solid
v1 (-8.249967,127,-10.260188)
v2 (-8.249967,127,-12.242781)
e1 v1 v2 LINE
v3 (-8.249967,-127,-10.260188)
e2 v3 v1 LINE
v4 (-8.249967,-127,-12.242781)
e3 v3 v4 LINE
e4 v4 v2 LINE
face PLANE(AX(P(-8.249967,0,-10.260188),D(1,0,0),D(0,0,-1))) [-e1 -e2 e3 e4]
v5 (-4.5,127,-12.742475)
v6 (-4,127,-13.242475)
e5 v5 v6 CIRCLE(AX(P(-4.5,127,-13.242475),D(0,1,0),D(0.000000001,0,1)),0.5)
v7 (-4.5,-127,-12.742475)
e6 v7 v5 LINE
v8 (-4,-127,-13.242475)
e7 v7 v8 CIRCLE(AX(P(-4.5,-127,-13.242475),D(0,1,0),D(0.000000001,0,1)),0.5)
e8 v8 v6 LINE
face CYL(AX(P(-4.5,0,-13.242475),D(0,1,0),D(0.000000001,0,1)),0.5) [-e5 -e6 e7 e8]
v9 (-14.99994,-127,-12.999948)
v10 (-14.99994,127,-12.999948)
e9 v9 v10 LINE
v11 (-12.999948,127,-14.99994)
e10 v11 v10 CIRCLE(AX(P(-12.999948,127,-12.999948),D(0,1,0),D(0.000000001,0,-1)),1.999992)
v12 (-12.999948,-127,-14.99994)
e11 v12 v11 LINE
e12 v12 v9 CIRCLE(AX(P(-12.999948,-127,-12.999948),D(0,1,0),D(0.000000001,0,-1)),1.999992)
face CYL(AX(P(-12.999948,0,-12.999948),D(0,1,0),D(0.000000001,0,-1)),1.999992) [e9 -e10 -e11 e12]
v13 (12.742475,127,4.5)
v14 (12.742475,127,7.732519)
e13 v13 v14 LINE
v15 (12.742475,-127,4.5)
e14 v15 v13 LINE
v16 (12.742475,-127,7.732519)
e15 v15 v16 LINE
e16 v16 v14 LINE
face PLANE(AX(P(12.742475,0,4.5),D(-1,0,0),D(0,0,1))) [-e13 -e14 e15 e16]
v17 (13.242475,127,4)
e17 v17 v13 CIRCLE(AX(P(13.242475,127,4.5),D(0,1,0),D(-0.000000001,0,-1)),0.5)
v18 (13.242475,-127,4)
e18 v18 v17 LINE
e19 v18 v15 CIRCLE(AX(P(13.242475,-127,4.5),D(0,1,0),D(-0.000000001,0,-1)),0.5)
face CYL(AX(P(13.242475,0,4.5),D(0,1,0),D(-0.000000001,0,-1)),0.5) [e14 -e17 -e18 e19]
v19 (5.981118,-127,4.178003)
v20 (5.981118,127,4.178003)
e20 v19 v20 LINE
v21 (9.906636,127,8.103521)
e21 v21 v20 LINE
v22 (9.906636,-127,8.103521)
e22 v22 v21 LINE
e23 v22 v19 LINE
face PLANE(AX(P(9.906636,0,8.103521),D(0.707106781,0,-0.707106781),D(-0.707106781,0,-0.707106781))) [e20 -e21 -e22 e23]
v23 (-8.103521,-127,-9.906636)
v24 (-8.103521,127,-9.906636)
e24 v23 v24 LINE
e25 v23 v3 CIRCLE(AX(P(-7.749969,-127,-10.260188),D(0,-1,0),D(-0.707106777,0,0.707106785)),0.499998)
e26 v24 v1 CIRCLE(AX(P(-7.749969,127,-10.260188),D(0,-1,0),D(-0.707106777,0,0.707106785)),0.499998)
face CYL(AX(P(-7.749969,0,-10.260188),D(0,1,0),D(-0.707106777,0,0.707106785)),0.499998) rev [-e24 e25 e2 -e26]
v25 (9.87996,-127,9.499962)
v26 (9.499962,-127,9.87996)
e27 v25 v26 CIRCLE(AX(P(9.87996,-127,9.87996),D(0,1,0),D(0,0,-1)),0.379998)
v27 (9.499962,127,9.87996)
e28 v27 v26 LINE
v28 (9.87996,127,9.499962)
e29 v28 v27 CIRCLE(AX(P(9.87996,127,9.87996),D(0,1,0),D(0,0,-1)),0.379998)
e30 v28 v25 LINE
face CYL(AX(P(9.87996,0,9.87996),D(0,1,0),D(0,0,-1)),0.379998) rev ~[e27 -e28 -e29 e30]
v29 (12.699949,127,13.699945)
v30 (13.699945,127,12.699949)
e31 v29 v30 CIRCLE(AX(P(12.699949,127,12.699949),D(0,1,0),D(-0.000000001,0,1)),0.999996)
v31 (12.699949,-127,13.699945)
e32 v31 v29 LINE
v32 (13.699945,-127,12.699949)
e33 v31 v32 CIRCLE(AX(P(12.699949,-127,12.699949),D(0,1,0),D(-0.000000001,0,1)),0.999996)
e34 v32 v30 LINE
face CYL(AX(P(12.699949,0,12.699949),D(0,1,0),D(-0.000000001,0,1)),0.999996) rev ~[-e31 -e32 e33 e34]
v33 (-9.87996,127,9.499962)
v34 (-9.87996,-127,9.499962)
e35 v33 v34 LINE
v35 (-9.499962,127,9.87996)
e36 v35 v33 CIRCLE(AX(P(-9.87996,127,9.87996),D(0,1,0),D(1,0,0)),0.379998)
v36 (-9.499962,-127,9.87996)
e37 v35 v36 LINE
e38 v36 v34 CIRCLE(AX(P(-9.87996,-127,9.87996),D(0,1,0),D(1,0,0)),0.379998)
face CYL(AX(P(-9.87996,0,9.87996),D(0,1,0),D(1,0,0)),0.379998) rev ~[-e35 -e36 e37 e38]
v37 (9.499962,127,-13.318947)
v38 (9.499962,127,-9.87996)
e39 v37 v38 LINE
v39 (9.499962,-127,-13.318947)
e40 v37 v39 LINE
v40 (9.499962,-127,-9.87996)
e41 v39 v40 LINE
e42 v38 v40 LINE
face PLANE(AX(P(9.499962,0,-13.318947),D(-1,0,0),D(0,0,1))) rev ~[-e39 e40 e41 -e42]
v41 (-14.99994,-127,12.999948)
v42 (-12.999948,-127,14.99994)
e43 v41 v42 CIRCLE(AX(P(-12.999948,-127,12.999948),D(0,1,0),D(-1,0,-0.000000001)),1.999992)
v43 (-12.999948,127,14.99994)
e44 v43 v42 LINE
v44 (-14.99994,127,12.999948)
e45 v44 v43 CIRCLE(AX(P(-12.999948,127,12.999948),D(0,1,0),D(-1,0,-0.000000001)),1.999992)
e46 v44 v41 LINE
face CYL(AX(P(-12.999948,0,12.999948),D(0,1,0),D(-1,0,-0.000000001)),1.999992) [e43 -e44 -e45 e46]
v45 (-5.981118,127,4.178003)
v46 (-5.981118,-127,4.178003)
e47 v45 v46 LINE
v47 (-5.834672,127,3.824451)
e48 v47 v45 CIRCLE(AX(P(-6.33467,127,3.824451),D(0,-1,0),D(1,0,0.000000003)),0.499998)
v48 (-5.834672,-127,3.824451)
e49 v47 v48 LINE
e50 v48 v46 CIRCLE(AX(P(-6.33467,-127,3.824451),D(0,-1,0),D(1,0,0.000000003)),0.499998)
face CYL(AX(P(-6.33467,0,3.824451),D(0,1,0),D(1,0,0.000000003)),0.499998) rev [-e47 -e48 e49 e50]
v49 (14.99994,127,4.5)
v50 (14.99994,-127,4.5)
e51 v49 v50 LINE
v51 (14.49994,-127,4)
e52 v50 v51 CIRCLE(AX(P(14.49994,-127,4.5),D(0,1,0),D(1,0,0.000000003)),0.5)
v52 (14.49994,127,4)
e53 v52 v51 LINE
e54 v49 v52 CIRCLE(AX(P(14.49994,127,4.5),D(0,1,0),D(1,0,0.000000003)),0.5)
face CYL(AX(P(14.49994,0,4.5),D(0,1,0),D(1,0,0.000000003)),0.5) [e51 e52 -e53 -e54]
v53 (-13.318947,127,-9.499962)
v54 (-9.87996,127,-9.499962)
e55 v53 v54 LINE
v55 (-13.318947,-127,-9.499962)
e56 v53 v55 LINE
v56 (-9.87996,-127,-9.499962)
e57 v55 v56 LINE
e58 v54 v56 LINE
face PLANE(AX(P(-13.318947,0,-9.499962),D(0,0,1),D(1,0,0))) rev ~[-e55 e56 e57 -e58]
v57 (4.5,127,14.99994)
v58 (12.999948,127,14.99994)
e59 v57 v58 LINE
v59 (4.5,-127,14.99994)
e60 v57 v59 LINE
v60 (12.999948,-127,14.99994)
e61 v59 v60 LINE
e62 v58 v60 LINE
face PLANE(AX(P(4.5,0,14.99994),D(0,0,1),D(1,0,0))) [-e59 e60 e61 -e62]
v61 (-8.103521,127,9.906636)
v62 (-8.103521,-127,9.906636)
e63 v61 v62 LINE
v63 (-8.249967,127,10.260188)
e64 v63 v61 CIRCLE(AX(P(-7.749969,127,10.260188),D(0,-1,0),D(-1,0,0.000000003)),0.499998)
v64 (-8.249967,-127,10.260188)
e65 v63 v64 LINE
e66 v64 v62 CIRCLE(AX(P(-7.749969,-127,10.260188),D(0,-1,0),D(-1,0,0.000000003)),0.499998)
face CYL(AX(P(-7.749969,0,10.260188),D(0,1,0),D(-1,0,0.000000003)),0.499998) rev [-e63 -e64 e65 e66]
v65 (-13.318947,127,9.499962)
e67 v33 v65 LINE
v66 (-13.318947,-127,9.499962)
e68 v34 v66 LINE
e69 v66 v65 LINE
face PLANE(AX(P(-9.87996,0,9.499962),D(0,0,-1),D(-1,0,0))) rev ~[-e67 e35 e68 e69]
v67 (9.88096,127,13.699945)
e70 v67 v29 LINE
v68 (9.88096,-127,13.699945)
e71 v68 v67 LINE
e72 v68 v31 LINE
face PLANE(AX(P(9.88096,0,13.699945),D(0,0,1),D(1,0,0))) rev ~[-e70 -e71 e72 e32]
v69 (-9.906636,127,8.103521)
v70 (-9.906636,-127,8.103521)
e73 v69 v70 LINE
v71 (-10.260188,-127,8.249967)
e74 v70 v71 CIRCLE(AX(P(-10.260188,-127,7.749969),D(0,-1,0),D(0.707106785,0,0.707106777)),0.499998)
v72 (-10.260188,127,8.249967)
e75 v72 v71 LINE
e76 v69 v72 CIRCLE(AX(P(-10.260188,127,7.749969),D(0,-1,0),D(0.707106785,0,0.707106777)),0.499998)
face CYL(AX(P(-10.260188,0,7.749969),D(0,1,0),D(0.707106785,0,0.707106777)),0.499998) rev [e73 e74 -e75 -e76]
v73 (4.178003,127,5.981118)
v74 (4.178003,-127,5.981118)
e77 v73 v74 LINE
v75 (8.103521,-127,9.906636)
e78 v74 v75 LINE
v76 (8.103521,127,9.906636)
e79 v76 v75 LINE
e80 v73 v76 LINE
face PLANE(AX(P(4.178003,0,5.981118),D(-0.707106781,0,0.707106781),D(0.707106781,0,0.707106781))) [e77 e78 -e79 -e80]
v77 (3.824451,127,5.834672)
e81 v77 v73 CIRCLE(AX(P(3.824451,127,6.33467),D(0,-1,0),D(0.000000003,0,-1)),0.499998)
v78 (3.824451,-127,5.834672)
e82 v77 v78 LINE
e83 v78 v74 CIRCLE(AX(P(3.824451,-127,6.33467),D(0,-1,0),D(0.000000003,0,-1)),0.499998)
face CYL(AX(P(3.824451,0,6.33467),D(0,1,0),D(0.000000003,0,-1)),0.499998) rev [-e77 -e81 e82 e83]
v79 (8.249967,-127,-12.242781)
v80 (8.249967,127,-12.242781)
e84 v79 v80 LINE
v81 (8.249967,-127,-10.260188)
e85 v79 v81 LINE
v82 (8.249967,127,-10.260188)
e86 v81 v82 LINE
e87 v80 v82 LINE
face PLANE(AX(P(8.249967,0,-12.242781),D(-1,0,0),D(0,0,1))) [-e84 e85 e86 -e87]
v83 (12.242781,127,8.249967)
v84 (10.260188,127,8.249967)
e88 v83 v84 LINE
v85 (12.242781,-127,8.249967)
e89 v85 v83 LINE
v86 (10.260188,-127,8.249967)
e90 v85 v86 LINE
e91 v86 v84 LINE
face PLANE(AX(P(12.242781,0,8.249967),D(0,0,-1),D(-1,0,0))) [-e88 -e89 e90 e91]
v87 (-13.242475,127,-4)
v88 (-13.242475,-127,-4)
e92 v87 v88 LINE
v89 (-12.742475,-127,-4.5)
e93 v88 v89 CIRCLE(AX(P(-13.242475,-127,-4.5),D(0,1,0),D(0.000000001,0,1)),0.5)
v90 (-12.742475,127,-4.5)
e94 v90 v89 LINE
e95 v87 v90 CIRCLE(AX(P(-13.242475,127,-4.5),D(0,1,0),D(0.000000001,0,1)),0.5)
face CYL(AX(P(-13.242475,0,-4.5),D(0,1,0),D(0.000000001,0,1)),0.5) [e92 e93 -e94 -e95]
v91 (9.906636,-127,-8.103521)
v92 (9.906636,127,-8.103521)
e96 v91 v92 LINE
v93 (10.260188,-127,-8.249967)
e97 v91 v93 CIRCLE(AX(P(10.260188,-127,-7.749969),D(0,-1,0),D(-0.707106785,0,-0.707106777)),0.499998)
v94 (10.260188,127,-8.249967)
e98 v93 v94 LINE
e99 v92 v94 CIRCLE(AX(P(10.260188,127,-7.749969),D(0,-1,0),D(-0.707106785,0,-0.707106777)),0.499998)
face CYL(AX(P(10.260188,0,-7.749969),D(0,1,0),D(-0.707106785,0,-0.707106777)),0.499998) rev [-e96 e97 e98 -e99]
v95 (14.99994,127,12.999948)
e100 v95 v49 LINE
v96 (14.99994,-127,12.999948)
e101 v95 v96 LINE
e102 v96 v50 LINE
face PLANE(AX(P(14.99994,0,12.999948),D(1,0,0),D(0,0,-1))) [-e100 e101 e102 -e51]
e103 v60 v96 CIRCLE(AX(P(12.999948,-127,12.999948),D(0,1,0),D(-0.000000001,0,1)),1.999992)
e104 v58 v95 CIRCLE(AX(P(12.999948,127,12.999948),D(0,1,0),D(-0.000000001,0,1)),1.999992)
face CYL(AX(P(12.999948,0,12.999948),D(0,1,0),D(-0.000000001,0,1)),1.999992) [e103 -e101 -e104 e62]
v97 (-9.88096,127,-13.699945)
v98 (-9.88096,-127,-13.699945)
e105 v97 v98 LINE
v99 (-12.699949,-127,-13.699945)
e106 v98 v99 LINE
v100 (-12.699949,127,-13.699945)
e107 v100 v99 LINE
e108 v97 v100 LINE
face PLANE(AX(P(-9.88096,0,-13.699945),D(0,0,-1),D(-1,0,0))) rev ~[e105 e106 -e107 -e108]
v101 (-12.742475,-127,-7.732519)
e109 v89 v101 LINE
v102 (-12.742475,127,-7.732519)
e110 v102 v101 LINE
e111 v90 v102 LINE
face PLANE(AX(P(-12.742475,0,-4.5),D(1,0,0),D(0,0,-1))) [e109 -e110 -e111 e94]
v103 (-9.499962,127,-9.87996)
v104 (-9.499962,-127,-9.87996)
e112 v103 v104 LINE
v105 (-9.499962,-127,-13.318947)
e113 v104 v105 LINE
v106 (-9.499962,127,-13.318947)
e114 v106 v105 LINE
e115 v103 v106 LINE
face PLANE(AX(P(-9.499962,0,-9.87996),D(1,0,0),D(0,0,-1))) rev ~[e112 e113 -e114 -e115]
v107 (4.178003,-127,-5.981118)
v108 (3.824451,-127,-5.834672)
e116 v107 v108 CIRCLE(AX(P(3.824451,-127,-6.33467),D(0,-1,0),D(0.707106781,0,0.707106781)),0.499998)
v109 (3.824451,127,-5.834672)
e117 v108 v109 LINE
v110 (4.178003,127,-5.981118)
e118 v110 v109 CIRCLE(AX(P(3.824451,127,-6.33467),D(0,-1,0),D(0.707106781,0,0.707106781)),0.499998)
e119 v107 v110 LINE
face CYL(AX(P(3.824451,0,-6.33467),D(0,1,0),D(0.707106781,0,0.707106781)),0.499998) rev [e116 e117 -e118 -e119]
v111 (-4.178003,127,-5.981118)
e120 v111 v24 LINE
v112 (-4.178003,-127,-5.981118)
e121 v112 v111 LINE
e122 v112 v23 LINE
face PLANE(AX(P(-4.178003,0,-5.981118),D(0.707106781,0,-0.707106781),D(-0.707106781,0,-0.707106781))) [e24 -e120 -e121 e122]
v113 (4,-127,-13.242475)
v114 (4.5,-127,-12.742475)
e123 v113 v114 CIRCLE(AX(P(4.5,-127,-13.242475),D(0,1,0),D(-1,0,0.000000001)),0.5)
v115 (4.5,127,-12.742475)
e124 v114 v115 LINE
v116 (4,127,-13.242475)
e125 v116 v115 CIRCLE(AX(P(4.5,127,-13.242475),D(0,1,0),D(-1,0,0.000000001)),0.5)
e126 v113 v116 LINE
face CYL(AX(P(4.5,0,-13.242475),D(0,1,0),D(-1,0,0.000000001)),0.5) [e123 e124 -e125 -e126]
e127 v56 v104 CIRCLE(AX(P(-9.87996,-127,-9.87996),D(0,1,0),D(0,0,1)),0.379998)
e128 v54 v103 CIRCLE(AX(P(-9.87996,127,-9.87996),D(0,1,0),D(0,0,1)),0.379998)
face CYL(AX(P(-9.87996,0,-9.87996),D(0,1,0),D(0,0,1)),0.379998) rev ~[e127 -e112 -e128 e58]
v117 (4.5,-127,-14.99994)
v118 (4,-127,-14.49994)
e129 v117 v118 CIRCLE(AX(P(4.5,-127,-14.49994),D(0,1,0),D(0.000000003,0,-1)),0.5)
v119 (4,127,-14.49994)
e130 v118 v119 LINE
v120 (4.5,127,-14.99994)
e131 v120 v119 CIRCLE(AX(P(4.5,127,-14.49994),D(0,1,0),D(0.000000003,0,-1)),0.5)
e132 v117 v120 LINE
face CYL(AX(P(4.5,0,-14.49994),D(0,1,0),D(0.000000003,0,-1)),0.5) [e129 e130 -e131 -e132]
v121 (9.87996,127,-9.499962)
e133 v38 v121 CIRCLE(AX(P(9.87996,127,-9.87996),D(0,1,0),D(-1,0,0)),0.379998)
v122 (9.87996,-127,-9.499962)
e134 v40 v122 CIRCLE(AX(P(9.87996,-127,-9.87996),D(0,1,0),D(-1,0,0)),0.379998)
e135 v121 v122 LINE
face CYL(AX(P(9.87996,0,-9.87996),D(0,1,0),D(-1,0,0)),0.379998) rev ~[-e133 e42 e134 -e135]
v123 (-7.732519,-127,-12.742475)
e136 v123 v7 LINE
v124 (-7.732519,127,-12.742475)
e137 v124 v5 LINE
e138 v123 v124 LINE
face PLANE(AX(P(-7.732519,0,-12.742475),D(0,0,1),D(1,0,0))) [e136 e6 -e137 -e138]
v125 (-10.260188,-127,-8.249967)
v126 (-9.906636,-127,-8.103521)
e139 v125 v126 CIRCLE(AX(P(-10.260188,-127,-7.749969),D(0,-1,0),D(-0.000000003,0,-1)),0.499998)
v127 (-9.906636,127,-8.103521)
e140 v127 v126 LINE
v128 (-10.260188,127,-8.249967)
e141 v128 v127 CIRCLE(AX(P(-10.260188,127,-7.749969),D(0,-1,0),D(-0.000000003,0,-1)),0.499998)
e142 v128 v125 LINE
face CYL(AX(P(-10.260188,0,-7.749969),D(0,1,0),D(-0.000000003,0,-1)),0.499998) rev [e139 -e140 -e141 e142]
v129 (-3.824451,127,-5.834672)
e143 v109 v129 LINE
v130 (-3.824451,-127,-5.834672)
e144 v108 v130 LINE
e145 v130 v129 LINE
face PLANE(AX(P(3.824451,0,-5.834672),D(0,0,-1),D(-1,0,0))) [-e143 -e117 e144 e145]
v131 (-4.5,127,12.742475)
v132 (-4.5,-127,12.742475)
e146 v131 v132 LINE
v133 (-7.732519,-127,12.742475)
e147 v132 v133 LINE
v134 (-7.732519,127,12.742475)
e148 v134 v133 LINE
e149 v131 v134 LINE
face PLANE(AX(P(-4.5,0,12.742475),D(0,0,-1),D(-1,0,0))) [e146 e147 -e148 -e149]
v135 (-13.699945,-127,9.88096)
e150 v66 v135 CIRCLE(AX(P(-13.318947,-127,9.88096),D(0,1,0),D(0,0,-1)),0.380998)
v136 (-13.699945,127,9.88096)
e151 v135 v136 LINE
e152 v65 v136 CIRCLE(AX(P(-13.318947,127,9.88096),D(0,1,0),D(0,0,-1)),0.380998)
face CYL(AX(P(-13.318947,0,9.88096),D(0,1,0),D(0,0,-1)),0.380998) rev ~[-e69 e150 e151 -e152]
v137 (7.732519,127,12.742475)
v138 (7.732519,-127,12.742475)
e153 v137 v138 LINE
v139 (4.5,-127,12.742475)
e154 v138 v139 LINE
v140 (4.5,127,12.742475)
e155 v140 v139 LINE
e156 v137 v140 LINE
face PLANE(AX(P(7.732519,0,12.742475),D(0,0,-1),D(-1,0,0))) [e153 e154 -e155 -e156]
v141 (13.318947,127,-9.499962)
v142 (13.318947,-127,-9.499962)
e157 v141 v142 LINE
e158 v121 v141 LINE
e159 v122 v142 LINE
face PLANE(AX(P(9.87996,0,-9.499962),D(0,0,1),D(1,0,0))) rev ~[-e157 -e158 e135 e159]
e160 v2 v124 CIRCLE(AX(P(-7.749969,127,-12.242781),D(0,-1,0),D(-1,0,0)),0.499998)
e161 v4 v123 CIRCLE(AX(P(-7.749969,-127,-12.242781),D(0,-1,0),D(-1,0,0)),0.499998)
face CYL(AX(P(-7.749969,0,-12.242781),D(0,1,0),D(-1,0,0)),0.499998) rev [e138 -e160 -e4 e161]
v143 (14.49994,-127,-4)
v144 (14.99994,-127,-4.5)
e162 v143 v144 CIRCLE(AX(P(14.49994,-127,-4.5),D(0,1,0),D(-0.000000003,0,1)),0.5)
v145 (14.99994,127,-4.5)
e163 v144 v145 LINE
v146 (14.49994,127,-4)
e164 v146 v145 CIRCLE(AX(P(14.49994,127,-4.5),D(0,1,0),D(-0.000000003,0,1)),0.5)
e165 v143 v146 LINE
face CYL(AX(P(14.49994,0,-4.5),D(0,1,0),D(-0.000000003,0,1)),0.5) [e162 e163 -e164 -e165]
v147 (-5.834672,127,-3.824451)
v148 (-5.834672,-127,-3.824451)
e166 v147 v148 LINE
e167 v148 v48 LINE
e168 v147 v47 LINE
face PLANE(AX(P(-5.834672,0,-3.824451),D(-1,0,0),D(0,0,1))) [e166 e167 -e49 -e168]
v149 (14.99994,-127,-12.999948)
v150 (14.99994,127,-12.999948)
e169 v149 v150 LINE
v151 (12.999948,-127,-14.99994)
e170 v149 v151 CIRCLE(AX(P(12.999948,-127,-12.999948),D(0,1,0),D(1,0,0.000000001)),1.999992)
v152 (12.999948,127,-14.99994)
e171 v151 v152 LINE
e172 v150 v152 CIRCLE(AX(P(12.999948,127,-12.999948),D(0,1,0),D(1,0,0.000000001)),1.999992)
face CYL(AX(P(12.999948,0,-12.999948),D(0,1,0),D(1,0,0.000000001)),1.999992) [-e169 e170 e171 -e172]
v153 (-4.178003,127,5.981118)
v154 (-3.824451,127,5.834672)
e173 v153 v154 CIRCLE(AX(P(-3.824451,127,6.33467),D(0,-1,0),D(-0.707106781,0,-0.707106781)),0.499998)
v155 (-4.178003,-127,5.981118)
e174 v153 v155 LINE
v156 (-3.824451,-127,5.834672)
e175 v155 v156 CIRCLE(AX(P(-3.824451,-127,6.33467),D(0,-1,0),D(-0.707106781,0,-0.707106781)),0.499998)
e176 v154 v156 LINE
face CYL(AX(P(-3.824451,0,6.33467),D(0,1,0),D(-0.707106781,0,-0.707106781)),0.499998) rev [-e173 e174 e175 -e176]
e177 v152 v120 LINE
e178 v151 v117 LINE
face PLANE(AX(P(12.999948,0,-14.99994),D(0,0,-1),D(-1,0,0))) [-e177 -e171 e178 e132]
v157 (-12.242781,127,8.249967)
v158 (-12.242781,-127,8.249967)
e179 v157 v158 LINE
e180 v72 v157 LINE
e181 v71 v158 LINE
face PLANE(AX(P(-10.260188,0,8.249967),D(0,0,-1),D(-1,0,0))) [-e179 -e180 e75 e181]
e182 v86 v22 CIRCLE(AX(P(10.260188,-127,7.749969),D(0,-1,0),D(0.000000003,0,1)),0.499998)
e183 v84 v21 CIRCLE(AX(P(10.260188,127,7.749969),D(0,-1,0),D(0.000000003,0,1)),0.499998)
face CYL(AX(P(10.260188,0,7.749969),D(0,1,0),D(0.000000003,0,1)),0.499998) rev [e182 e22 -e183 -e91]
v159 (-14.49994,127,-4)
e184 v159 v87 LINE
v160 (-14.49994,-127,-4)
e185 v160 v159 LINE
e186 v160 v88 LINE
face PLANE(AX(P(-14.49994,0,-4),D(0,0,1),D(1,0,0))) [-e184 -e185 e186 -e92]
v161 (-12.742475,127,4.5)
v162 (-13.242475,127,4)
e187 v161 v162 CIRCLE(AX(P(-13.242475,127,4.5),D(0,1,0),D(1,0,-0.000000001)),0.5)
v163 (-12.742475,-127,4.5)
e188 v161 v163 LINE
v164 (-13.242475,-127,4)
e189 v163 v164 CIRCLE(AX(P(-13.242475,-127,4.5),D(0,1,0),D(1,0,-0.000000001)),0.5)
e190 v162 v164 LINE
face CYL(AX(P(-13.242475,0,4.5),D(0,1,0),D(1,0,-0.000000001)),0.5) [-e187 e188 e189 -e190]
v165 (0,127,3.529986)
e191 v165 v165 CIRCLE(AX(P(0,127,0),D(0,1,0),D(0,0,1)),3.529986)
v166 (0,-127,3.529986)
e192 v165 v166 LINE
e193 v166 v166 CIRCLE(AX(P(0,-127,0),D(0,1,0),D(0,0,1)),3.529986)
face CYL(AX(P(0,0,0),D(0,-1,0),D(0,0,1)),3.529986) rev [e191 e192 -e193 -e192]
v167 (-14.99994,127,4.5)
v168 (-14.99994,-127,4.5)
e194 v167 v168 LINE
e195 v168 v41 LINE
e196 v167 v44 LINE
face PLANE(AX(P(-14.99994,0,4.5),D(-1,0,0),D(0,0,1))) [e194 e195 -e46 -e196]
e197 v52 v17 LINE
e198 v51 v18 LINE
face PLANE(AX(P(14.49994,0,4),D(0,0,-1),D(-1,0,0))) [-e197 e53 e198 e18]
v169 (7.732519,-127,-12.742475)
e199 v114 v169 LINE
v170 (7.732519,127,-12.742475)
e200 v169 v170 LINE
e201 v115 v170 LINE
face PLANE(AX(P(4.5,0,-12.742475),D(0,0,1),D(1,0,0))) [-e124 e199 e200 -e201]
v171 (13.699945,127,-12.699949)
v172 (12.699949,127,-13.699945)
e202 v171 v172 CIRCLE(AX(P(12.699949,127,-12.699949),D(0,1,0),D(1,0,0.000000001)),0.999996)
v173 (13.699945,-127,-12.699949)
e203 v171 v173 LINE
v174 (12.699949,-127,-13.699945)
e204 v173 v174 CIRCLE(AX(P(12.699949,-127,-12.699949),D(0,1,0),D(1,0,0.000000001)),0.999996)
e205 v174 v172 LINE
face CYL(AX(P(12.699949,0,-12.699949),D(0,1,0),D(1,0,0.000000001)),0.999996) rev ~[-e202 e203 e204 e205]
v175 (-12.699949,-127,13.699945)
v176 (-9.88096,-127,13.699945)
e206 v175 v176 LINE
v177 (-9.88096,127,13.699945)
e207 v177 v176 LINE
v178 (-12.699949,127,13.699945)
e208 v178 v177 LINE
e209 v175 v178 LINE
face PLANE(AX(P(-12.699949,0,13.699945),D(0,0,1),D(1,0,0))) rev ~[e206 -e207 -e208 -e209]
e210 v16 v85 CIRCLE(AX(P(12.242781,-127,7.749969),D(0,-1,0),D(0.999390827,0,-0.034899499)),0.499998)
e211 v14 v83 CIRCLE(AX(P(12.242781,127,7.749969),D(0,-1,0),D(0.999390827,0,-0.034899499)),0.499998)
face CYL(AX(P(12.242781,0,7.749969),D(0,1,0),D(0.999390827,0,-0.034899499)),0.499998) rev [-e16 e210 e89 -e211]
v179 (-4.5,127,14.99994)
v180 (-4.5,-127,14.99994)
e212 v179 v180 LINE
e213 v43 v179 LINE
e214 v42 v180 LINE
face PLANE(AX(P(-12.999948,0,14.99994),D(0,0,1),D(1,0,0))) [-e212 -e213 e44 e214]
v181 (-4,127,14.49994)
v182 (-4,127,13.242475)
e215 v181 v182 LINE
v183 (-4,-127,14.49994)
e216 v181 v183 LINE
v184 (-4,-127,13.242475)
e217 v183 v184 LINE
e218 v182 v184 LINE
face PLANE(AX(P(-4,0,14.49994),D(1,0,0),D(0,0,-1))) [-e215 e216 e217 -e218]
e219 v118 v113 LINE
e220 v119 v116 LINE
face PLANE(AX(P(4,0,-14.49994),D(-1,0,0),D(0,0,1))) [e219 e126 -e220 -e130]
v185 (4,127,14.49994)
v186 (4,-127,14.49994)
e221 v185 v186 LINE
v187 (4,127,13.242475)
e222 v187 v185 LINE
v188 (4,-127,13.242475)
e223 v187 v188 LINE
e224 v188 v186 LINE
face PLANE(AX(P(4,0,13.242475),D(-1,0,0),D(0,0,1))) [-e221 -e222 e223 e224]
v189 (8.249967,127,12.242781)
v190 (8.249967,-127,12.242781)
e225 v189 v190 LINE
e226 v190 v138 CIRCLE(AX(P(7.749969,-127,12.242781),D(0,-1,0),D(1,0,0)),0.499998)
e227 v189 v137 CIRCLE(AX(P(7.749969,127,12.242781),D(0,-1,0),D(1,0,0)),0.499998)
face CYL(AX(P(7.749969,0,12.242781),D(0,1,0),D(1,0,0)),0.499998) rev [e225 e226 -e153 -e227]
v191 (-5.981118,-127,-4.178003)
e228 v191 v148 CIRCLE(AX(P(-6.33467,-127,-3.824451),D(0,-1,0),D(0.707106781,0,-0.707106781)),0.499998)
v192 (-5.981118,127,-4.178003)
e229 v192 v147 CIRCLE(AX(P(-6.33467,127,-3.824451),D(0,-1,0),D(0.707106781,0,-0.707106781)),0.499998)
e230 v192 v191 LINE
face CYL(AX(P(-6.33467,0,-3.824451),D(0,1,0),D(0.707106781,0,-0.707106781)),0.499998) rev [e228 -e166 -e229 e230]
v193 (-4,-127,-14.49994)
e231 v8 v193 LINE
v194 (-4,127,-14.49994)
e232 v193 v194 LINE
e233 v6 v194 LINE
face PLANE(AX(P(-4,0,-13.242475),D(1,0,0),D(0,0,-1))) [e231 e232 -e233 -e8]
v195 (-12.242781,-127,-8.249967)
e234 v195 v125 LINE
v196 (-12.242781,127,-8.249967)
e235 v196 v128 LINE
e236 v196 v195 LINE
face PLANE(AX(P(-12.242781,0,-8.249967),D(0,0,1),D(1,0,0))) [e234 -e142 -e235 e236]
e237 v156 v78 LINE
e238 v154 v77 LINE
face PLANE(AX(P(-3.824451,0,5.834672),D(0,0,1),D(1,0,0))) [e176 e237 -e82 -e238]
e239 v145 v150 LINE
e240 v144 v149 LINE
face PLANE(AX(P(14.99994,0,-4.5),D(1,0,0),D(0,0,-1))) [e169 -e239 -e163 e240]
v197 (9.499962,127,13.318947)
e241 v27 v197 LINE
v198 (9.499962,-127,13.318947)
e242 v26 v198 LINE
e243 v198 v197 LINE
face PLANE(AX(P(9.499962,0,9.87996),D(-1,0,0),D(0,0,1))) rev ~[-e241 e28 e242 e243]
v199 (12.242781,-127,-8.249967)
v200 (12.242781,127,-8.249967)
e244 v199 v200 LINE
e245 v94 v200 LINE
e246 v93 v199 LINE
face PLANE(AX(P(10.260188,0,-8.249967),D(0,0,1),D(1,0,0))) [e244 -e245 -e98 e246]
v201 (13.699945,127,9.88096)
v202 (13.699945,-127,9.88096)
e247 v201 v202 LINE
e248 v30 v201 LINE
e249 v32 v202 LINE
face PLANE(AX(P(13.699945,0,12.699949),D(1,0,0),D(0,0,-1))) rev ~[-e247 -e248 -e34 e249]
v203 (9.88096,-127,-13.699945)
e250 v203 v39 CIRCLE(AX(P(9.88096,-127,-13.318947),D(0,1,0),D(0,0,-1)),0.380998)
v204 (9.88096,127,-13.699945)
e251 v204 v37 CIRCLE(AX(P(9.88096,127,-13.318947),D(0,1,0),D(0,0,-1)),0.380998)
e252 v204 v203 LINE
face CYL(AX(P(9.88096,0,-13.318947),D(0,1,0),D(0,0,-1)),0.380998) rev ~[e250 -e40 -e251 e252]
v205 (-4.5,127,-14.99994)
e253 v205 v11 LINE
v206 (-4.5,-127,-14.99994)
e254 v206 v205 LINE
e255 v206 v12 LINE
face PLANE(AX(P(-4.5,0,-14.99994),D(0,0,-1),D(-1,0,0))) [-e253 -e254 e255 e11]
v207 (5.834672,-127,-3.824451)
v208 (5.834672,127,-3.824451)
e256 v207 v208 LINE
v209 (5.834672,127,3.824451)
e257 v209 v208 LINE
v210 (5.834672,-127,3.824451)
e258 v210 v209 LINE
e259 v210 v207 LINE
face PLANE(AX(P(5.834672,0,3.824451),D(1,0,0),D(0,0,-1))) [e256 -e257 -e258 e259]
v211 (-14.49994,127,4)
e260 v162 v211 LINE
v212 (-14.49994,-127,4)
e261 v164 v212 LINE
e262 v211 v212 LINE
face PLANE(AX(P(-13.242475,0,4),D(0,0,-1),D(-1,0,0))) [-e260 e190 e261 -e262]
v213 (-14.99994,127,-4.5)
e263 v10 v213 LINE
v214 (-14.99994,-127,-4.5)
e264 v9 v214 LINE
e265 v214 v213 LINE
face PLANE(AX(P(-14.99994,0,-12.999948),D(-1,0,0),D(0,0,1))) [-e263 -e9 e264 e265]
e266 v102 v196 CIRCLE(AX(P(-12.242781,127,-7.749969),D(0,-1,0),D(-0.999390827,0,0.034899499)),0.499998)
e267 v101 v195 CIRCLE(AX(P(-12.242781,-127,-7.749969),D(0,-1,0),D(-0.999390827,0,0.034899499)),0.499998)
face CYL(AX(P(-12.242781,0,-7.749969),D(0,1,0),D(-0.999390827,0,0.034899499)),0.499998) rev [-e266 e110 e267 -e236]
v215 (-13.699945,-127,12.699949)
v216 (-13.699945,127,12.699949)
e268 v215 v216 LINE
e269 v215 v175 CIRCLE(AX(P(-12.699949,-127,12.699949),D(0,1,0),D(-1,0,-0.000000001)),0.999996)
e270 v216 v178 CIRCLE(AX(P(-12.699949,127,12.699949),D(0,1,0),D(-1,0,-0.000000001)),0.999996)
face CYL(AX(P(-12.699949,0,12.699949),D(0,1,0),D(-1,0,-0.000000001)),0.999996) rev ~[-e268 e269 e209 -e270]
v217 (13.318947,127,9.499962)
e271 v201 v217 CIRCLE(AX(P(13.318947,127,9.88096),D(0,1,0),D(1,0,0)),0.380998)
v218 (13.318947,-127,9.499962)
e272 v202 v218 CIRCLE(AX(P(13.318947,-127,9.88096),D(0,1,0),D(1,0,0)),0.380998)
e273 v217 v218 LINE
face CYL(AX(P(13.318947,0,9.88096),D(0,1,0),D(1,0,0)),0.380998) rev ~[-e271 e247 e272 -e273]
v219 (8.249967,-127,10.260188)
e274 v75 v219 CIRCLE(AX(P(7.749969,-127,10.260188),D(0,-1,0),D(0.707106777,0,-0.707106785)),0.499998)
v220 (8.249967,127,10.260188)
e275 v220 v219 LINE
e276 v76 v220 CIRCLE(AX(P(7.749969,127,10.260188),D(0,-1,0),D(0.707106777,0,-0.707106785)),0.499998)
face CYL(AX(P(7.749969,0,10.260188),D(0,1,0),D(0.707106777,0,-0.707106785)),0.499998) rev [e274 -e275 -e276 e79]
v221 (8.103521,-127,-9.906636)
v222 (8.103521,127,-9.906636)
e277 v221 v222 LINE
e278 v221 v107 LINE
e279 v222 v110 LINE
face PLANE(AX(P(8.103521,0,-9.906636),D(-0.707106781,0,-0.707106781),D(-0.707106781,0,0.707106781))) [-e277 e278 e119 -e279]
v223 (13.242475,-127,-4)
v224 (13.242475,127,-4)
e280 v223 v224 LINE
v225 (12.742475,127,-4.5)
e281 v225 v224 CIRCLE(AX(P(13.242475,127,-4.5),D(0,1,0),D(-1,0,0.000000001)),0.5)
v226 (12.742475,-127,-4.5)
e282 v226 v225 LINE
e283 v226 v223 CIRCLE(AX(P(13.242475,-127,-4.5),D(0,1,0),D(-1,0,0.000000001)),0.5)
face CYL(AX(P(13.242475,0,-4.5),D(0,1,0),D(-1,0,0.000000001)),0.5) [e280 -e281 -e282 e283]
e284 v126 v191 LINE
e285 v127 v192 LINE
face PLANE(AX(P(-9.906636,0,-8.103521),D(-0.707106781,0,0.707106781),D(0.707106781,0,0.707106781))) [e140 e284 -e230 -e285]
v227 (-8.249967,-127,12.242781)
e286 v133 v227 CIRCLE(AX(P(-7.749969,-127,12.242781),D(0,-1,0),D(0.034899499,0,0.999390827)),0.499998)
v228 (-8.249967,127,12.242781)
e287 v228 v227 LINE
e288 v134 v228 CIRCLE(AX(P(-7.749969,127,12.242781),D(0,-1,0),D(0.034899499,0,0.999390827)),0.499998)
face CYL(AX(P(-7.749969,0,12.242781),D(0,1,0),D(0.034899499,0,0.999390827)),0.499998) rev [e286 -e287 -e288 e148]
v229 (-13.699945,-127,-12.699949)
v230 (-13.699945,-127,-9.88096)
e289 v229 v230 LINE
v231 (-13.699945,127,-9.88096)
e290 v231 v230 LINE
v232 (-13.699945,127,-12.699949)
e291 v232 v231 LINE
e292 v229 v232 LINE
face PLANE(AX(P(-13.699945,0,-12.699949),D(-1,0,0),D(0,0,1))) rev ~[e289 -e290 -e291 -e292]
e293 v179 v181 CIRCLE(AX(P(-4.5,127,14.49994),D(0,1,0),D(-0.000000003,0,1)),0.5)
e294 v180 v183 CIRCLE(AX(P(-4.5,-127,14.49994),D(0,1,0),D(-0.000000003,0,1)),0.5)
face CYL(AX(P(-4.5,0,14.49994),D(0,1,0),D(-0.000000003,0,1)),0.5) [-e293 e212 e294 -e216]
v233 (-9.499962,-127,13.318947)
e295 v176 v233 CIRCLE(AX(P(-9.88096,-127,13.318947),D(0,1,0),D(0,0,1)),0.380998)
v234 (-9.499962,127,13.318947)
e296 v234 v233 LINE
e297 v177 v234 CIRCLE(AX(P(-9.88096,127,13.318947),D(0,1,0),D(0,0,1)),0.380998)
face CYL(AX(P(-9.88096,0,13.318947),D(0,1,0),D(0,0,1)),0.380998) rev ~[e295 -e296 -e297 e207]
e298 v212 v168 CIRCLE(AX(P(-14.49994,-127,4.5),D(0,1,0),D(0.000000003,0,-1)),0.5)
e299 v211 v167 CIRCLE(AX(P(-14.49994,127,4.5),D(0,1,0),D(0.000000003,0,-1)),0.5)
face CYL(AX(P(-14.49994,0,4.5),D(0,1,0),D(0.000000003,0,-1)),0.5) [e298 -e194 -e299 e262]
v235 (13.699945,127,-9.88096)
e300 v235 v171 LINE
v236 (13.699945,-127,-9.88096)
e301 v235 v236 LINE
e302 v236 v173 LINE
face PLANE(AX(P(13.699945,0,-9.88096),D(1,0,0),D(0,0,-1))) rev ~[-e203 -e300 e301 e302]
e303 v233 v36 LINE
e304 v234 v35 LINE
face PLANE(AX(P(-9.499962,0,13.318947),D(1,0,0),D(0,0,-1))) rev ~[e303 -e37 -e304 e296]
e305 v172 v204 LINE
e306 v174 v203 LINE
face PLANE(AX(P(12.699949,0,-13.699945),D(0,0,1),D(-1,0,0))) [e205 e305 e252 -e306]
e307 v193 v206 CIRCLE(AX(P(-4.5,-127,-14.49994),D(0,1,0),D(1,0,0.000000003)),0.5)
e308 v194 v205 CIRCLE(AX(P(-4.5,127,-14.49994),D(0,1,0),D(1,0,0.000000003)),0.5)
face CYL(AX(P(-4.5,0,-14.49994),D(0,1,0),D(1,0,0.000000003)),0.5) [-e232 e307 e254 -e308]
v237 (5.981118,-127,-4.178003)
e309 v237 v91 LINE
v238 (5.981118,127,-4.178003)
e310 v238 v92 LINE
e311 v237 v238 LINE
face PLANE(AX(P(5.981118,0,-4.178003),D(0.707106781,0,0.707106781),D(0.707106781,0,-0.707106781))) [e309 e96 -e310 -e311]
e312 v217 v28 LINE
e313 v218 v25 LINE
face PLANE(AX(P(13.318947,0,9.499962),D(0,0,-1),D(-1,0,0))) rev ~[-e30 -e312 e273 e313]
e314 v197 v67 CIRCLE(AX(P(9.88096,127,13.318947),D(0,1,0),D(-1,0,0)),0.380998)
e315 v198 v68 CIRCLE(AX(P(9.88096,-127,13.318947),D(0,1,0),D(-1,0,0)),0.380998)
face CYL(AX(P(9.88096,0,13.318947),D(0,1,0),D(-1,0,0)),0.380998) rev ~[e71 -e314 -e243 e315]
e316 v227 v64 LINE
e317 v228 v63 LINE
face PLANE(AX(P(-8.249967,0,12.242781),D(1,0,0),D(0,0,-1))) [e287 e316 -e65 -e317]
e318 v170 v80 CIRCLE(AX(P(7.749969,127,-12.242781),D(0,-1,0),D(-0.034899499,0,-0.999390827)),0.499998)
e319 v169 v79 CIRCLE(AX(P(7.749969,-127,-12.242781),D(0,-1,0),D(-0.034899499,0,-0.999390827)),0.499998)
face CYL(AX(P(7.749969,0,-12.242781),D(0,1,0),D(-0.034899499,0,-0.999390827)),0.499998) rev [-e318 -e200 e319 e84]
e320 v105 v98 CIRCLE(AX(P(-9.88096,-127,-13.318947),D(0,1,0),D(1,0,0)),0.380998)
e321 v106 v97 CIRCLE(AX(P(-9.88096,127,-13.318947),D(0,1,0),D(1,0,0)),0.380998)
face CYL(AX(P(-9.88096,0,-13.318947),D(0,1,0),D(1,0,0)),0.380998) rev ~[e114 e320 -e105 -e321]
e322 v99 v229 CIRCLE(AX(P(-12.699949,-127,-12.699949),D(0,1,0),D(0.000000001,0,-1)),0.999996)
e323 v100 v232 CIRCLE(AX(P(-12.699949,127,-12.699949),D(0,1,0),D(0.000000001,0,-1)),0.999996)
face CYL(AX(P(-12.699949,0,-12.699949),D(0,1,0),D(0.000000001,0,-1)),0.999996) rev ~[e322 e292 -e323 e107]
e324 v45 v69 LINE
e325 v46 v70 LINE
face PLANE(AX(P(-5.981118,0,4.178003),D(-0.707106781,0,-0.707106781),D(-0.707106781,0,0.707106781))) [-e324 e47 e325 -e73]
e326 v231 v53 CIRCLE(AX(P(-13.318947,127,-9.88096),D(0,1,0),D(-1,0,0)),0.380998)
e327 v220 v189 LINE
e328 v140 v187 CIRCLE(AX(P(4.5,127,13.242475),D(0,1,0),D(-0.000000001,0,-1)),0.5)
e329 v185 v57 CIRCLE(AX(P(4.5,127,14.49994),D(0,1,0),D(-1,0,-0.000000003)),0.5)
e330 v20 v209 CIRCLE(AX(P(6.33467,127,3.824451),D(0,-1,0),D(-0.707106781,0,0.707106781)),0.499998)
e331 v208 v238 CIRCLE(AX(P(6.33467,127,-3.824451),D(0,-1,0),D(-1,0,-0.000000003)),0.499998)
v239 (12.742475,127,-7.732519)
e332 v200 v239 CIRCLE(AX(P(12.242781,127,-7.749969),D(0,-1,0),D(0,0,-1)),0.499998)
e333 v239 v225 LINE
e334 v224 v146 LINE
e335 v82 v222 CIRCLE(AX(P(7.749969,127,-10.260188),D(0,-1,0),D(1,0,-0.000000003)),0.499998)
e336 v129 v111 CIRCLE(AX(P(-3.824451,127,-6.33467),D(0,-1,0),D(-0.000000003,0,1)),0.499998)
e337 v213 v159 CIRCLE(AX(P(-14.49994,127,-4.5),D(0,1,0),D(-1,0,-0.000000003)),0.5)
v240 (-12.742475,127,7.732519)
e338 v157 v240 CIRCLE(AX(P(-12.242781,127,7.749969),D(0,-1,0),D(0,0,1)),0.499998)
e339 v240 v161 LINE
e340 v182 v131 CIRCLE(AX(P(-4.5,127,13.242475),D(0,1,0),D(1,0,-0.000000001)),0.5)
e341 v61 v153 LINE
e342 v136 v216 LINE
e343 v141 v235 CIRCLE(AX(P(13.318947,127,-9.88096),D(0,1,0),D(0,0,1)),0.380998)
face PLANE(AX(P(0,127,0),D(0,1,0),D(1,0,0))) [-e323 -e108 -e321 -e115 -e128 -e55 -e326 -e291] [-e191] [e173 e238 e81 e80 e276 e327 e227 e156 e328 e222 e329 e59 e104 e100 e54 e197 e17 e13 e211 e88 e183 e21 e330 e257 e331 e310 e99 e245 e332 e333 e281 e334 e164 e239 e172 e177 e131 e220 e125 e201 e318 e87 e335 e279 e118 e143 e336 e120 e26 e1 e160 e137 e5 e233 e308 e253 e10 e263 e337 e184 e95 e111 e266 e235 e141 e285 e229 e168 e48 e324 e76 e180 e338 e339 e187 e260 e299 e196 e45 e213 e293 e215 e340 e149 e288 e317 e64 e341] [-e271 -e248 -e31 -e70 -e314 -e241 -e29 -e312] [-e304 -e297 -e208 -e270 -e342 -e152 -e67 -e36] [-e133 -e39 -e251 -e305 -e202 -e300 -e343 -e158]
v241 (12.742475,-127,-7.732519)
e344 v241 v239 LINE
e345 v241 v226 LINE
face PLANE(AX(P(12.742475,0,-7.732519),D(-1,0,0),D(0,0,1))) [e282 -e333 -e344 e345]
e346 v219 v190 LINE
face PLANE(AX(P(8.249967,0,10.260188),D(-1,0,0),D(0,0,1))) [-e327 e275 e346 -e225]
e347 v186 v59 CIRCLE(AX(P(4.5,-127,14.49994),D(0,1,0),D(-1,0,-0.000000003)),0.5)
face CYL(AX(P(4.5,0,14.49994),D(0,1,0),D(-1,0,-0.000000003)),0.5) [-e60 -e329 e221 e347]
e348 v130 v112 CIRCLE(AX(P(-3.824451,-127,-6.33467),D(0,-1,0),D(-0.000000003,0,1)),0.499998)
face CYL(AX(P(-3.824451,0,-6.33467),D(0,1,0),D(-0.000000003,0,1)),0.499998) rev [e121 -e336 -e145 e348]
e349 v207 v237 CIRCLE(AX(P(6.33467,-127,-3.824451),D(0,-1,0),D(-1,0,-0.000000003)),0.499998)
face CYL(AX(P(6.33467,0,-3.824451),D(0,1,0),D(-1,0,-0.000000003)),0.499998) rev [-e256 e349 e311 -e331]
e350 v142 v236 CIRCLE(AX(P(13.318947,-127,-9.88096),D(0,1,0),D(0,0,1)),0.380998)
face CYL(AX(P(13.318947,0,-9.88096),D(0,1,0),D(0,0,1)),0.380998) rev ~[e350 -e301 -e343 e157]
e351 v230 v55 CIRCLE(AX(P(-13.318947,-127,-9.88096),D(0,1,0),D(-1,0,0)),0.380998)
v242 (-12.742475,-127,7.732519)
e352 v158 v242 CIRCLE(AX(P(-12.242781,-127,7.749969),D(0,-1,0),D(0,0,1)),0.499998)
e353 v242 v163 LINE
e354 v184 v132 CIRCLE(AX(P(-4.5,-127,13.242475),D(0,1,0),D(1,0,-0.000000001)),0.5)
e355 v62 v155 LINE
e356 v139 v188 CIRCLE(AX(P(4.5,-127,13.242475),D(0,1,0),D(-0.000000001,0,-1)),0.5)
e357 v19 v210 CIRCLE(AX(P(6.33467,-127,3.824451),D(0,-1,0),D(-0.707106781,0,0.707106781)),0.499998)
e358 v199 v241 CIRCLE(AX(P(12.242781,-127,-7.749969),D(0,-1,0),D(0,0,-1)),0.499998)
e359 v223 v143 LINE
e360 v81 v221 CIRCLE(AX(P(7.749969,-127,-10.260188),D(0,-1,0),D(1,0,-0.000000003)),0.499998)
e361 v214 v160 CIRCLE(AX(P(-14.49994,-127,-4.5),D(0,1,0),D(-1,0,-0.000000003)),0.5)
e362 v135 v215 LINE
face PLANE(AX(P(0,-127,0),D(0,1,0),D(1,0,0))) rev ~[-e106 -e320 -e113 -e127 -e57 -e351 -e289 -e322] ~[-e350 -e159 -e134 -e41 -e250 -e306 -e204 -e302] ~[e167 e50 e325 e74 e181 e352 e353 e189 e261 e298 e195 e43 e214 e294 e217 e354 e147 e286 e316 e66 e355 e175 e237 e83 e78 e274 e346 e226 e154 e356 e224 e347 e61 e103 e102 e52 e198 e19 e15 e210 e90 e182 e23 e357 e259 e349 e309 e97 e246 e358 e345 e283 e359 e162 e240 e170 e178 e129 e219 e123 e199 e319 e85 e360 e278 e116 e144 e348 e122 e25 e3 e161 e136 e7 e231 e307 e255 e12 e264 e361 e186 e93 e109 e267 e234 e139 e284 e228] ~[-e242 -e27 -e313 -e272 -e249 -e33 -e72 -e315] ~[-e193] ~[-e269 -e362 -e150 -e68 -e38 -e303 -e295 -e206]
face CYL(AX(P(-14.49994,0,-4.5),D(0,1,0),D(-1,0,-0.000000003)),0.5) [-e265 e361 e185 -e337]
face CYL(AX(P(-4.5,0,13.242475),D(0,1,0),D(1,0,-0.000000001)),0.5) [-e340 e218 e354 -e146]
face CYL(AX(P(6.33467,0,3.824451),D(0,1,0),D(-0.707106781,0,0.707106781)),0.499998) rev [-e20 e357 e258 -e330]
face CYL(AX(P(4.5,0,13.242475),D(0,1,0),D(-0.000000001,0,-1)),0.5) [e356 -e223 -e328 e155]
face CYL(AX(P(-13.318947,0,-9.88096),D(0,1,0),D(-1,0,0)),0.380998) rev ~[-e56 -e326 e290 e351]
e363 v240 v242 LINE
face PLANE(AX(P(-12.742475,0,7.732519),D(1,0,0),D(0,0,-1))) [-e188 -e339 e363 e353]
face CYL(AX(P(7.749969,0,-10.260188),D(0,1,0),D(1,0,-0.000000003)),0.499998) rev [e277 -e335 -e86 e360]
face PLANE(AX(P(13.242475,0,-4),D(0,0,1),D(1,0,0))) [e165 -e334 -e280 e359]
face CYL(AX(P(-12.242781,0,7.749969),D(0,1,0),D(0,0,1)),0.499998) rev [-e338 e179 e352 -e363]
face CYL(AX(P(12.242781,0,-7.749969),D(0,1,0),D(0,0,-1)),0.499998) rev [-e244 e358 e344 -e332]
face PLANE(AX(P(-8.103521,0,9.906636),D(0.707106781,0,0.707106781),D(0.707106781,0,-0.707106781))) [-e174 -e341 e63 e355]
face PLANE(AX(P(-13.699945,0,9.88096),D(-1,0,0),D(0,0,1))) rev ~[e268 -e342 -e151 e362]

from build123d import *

# Parameters (mm, degrees)
SKETCH1_R           = 3.52998588
BOSS_EXTRUDE1_DEPTH = 127


with BuildPart() as part:
    # Sketch1 → Boss-Extrude1 (new, symmetric)
    with BuildSketch(Plane(origin=(0, 0, 0), x_dir=(1, 0, 0), z_dir=(0, 1, 0))):
        with BuildLine():
            Line((14.49994, -4), (13.24247465, -4))
            ThreePointArc((13.24247465, -4), (12.88892126, -4.146446609), (12.74247465, -4.5))
            Line((12.74247465, -4.5), (12.74247465, -7.732519321))
            ThreePointArc((12.74247465, -7.732519321), (12.602449697, -8.097296796), (12.242781236, -8.249967))
            Line((12.242781236, -8.249967), (10.260188032, -8.249967))
            ThreePointArc((10.260188032, -8.249967), (10.068847082, -8.211906919), (9.906636056, -8.103520976))
            Line((9.906636056, -8.103520976), (5.981117769, -4.178002689))
            ThreePointArc((5.981117769, -4.178002689), (5.872731827, -4.015791664), (5.834671745, -3.824450713))
            Line((5.834671745, -3.824450713), (5.834671745, -1.01249595))
            Line((5.834671745, -1.01249595), (5.834671745, 0.88749645))
            Line((5.834671745, 0.88749645), (5.834671745, 3.824450713))
            ThreePointArc((5.834671745, 3.824450713), (5.872731827, 4.015791664), (5.981117769, 4.178002689))
            Line((5.981117769, 4.178002689), (9.906636056, 8.103520976))
            ThreePointArc((9.906636056, 8.103520976), (10.068847082, 8.211906919), (10.260188032, 8.249967))
            Line((10.260188032, 8.249967), (12.242781236, 8.249967))
            ThreePointArc((12.242781236, 8.249967), (12.602449697, 8.097296796), (12.74247465, 7.732519321))
            Line((12.74247465, 7.732519321), (12.74247465, 4.5))
            ThreePointArc((12.74247465, 4.5), (12.88892126, 4.146446609), (13.24247465, 4))
            Line((13.24247465, 4), (14.49994, 4))
            ThreePointArc((14.49994, 4), (14.853493391, 4.146446609), (14.99994, 4.5))
            Line((14.99994, 4.5), (14.99994, 12.999948))
            ThreePointArc((14.99994, 12.999948), (14.414155906, 14.414155906), (12.999948, 14.99994))
            Line((12.999948, 14.99994), (4.5, 14.99994))
            ThreePointArc((4.5, 14.99994), (4.146446609, 14.853493391), (4, 14.49994))
            Line((4, 14.49994), (4, 13.24247465))
            ThreePointArc((4, 13.24247465), (4.146446609, 12.88892126), (4.5, 12.74247465))
            Line((4.5, 12.74247465), (7.732519321, 12.74247465))
            ThreePointArc((7.732519321, 12.74247465), (8.097296796, 12.602449697), (8.249967, 12.242781236))
            Line((8.249967, 12.242781236), (8.249967, 10.260188032))
            ThreePointArc((8.249967, 10.260188032), (8.211906919, 10.068847082), (8.103520976, 9.906636056))
            Line((8.103520976, 9.906636056), (4.178002689, 5.981117769))
            ThreePointArc((4.178002689, 5.981117769), (4.015791664, 5.872731827), (3.824450713, 5.834671745))
            Line((3.824450713, 5.834671745), (0.9499962, 5.834671745))
            Line((0.9499962, 5.834671745), (-0.9499962, 5.834671745))
            Line((-0.9499962, 5.834671745), (-3.824450713, 5.834671745))
            ThreePointArc((-3.824450713, 5.834671745), (-4.015791664, 5.872731827), (-4.178002689, 5.981117769))
            Line((-4.178002689, 5.981117769), (-8.103520976, 9.906636056))
            ThreePointArc((-8.103520976, 9.906636056), (-8.211906919, 10.068847082), (-8.249967, 10.260188032))
            Line((-8.249967, 10.260188032), (-8.249967, 12.242781236))
            ThreePointArc((-8.249967, 12.242781236), (-8.097296796, 12.602449697), (-7.732519321, 12.74247465))
            Line((-7.732519321, 12.74247465), (-4.5, 12.74247465))
            ThreePointArc((-4.5, 12.74247465), (-4.146446609, 12.88892126), (-4, 13.24247465))
            Line((-4, 13.24247465), (-4, 14.49994))
            ThreePointArc((-4, 14.49994), (-4.146446609, 14.853493391), (-4.5, 14.99994))
            Line((-4.5, 14.99994), (-12.999948, 14.99994))
            ThreePointArc((-12.999948, 14.99994), (-14.414155906, 14.414155906), (-14.99994, 12.999948))
            Line((-14.99994, 12.999948), (-14.99994, 4.5))
            ThreePointArc((-14.99994, 4.5), (-14.853493391, 4.146446609), (-14.49994, 4))
            Line((-14.49994, 4), (-13.24247465, 4))
            ThreePointArc((-13.24247465, 4), (-12.88892126, 4.146446609), (-12.74247465, 4.5))
            Line((-12.74247465, 4.5), (-12.74247465, 7.732519321))
            ThreePointArc((-12.74247465, 7.732519321), (-12.602449697, 8.097296796), (-12.242781236, 8.249967))
            Line((-12.242781236, 8.249967), (-10.260188032, 8.249967))
            ThreePointArc((-10.260188032, 8.249967), (-10.068847082, 8.211906919), (-9.906636056, 8.103520976))
            Line((-9.906636056, 8.103520976), (-5.981117769, 4.178002689))
            ThreePointArc((-5.981117769, 4.178002689), (-5.872731827, 4.015791664), (-5.834671745, 3.824450713))
            Line((-5.834671745, 3.824450713), (-5.834671745, 0.88749645))
            Line((-5.834671745, 0.88749645), (-5.834671745, -1.01249595))
            Line((-5.834671745, -1.01249595), (-5.834671745, -3.824450713))
            ThreePointArc((-5.834671745, -3.824450713), (-5.872731827, -4.015791664), (-5.981117769, -4.178002689))
            Line((-5.981117769, -4.178002689), (-9.906636056, -8.103520976))
            ThreePointArc((-9.906636056, -8.103520976), (-10.068847082, -8.211906919), (-10.260188032, -8.249967))
            Line((-10.260188032, -8.249967), (-12.242781236, -8.249967))
            ThreePointArc((-12.242781236, -8.249967), (-12.602449697, -8.097296796), (-12.74247465, -7.732519321))
            Line((-12.74247465, -7.732519321), (-12.74247465, -4.5))
            ThreePointArc((-12.74247465, -4.5), (-12.88892126, -4.146446609), (-13.24247465, -4))
            Line((-13.24247465, -4), (-14.49994, -4))
            ThreePointArc((-14.49994, -4), (-14.853493391, -4.146446609), (-14.99994, -4.5))
            Line((-14.99994, -4.5), (-14.99994, -12.999948))
            ThreePointArc((-14.99994, -12.999948), (-14.414155906, -14.414155906), (-12.999948, -14.99994))
            Line((-12.999948, -14.99994), (-4.5, -14.99994))
            ThreePointArc((-4.5, -14.99994), (-4.146446609, -14.853493391), (-4, -14.49994))
            Line((-4, -14.49994), (-4, -13.24247465))
            ThreePointArc((-4, -13.24247465), (-4.146446609, -12.88892126), (-4.5, -12.74247465))
            Line((-4.5, -12.74247465), (-7.732519321, -12.74247465))
            ThreePointArc((-7.732519321, -12.74247465), (-8.097296796, -12.602449697), (-8.249967, -12.242781236))
            Line((-8.249967, -12.242781236), (-8.249967, -10.260188032))
            ThreePointArc((-8.249967, -10.260188032), (-8.211906919, -10.068847082), (-8.103520976, -9.906636056))
            Line((-8.103520976, -9.906636056), (-4.178002689, -5.981117769))
            ThreePointArc((-4.178002689, -5.981117769), (-4.015791664, -5.872731827), (-3.824450713, -5.834671745))
            Line((-3.824450713, -5.834671745), (-0.9499962, -5.834671745))
            Line((-0.9499962, -5.834671745), (0.9499962, -5.834671745))
            Line((0.9499962, -5.834671745), (3.824450713, -5.834671745))
            ThreePointArc((3.824450713, -5.834671745), (4.015791664, -5.872731827), (4.178002689, -5.981117769))
            Line((4.178002689, -5.981117769), (8.103520976, -9.906636056))
            ThreePointArc((8.103520976, -9.906636056), (8.211906919, -10.068847082), (8.249967, -10.260188032))
            Line((8.249967, -10.260188032), (8.249967, -12.242781236))
            ThreePointArc((8.249967, -12.242781236), (8.097296796, -12.602449697), (7.732519321, -12.74247465))
            Line((7.732519321, -12.74247465), (4.5, -12.74247465))
            ThreePointArc((4.5, -12.74247465), (4.146446609, -12.88892126), (4, -13.24247465))
            Line((4, -13.24247465), (4, -14.49994))
            ThreePointArc((4, -14.49994), (4.146446609, -14.853493391), (4.5, -14.99994))
            Line((4.5, -14.99994), (12.999948, -14.99994))
            ThreePointArc((12.999948, -14.99994), (14.414155906, -14.414155906), (14.99994, -12.999948))
            Line((14.99994, -12.999948), (14.99994, -4.5))
            ThreePointArc((14.99994, -4.5), (14.853493391, -4.146446609), (14.49994, -4))
        make_face()
        with Locations(Location((0, 0, 0), (0, 0, 270))):
            Circle(SKETCH1_R, mode=Mode.SUBTRACT)
        with BuildLine():
            Line((-12.6999492, -13.6999452), (-9.880960476, -13.6999452))
            ThreePointArc((-9.880960476, -13.6999452), (-9.61155387, -13.58835333), (-9.499962, -13.318946724))
            Line((-9.499962, -13.318946724), (-9.499962, -9.87996048))
            ThreePointArc((-9.499962, -9.87996048), (-9.611260978, -9.611260978), (-9.87996048, -9.499962))
            Line((-9.87996048, -9.499962), (-13.318946724, -9.499962))
            ThreePointArc((-13.318946724, -9.499962), (-13.58835333, -9.61155387), (-13.6999452, -9.880960476))
            Line((-13.6999452, -9.880960476), (-13.6999452, -12.6999492))
            ThreePointArc((-13.6999452, -12.6999492), (-13.407053153, -13.407053153), (-12.6999492, -13.6999452))
        make_face(mode=Mode.SUBTRACT)
        with BuildLine():
            Line((13.6999452, -12.6999492), (13.6999452, -9.880960476))
            ThreePointArc((13.6999452, -9.880960476), (13.58835333, -9.61155387), (13.318946724, -9.499962))
            Line((13.318946724, -9.499962), (9.87996048, -9.499962))
            ThreePointArc((9.87996048, -9.499962), (9.611260978, -9.611260978), (9.499962, -9.87996048))
            Line((9.499962, -9.87996048), (9.499962, -13.318946724))
            ThreePointArc((9.499962, -13.318946724), (9.61155387, -13.58835333), (9.880960476, -13.6999452))
            Line((9.880960476, -13.6999452), (12.6999492, -13.6999452))
            ThreePointArc((12.6999492, -13.6999452), (13.407053153, -13.407053153), (13.6999452, -12.6999492))
        make_face(mode=Mode.SUBTRACT)
        with BuildLine():
            Line((9.87996048, 9.499962), (13.318946724, 9.499962))
            ThreePointArc((13.318946724, 9.499962), (13.58835333, 9.61155387), (13.6999452, 9.880960476))
            Line((13.6999452, 9.880960476), (13.6999452, 12.6999492))
            ThreePointArc((13.6999452, 12.6999492), (13.407053153, 13.407053153), (12.6999492, 13.6999452))
            Line((12.6999492, 13.6999452), (9.880960476, 13.6999452))
            ThreePointArc((9.880960476, 13.6999452), (9.61155387, 13.58835333), (9.499962, 13.318946724))
            Line((9.499962, 13.318946724), (9.499962, 9.87996048))
            ThreePointArc((9.499962, 9.87996048), (9.611260978, 9.611260978), (9.87996048, 9.499962))
        make_face(mode=Mode.SUBTRACT)
        with BuildLine():
            Line((-13.6999452, 12.6999492), (-13.6999452, 9.880960476))
            ThreePointArc((-13.6999452, 9.880960476), (-13.58835333, 9.61155387), (-13.318946724, 9.499962))
            Line((-13.318946724, 9.499962), (-9.87996048, 9.499962))
            ThreePointArc((-9.87996048, 9.499962), (-9.611260978, 9.611260978), (-9.499962, 9.87996048))
            Line((-9.499962, 9.87996048), (-9.499962, 13.318946724))
            ThreePointArc((-9.499962, 13.318946724), (-9.61155387, 13.58835333), (-9.880960476, 13.6999452))
            Line((-9.880960476, 13.6999452), (-12.6999492, 13.6999452))
            ThreePointArc((-12.6999492, 13.6999452), (-13.407053153, 13.407053153), (-13.6999452, 12.6999492))
        make_face(mode=Mode.SUBTRACT)
    extrude(amount=BOSS_EXTRUDE1_DEPTH, both=True)


solid = part.part
